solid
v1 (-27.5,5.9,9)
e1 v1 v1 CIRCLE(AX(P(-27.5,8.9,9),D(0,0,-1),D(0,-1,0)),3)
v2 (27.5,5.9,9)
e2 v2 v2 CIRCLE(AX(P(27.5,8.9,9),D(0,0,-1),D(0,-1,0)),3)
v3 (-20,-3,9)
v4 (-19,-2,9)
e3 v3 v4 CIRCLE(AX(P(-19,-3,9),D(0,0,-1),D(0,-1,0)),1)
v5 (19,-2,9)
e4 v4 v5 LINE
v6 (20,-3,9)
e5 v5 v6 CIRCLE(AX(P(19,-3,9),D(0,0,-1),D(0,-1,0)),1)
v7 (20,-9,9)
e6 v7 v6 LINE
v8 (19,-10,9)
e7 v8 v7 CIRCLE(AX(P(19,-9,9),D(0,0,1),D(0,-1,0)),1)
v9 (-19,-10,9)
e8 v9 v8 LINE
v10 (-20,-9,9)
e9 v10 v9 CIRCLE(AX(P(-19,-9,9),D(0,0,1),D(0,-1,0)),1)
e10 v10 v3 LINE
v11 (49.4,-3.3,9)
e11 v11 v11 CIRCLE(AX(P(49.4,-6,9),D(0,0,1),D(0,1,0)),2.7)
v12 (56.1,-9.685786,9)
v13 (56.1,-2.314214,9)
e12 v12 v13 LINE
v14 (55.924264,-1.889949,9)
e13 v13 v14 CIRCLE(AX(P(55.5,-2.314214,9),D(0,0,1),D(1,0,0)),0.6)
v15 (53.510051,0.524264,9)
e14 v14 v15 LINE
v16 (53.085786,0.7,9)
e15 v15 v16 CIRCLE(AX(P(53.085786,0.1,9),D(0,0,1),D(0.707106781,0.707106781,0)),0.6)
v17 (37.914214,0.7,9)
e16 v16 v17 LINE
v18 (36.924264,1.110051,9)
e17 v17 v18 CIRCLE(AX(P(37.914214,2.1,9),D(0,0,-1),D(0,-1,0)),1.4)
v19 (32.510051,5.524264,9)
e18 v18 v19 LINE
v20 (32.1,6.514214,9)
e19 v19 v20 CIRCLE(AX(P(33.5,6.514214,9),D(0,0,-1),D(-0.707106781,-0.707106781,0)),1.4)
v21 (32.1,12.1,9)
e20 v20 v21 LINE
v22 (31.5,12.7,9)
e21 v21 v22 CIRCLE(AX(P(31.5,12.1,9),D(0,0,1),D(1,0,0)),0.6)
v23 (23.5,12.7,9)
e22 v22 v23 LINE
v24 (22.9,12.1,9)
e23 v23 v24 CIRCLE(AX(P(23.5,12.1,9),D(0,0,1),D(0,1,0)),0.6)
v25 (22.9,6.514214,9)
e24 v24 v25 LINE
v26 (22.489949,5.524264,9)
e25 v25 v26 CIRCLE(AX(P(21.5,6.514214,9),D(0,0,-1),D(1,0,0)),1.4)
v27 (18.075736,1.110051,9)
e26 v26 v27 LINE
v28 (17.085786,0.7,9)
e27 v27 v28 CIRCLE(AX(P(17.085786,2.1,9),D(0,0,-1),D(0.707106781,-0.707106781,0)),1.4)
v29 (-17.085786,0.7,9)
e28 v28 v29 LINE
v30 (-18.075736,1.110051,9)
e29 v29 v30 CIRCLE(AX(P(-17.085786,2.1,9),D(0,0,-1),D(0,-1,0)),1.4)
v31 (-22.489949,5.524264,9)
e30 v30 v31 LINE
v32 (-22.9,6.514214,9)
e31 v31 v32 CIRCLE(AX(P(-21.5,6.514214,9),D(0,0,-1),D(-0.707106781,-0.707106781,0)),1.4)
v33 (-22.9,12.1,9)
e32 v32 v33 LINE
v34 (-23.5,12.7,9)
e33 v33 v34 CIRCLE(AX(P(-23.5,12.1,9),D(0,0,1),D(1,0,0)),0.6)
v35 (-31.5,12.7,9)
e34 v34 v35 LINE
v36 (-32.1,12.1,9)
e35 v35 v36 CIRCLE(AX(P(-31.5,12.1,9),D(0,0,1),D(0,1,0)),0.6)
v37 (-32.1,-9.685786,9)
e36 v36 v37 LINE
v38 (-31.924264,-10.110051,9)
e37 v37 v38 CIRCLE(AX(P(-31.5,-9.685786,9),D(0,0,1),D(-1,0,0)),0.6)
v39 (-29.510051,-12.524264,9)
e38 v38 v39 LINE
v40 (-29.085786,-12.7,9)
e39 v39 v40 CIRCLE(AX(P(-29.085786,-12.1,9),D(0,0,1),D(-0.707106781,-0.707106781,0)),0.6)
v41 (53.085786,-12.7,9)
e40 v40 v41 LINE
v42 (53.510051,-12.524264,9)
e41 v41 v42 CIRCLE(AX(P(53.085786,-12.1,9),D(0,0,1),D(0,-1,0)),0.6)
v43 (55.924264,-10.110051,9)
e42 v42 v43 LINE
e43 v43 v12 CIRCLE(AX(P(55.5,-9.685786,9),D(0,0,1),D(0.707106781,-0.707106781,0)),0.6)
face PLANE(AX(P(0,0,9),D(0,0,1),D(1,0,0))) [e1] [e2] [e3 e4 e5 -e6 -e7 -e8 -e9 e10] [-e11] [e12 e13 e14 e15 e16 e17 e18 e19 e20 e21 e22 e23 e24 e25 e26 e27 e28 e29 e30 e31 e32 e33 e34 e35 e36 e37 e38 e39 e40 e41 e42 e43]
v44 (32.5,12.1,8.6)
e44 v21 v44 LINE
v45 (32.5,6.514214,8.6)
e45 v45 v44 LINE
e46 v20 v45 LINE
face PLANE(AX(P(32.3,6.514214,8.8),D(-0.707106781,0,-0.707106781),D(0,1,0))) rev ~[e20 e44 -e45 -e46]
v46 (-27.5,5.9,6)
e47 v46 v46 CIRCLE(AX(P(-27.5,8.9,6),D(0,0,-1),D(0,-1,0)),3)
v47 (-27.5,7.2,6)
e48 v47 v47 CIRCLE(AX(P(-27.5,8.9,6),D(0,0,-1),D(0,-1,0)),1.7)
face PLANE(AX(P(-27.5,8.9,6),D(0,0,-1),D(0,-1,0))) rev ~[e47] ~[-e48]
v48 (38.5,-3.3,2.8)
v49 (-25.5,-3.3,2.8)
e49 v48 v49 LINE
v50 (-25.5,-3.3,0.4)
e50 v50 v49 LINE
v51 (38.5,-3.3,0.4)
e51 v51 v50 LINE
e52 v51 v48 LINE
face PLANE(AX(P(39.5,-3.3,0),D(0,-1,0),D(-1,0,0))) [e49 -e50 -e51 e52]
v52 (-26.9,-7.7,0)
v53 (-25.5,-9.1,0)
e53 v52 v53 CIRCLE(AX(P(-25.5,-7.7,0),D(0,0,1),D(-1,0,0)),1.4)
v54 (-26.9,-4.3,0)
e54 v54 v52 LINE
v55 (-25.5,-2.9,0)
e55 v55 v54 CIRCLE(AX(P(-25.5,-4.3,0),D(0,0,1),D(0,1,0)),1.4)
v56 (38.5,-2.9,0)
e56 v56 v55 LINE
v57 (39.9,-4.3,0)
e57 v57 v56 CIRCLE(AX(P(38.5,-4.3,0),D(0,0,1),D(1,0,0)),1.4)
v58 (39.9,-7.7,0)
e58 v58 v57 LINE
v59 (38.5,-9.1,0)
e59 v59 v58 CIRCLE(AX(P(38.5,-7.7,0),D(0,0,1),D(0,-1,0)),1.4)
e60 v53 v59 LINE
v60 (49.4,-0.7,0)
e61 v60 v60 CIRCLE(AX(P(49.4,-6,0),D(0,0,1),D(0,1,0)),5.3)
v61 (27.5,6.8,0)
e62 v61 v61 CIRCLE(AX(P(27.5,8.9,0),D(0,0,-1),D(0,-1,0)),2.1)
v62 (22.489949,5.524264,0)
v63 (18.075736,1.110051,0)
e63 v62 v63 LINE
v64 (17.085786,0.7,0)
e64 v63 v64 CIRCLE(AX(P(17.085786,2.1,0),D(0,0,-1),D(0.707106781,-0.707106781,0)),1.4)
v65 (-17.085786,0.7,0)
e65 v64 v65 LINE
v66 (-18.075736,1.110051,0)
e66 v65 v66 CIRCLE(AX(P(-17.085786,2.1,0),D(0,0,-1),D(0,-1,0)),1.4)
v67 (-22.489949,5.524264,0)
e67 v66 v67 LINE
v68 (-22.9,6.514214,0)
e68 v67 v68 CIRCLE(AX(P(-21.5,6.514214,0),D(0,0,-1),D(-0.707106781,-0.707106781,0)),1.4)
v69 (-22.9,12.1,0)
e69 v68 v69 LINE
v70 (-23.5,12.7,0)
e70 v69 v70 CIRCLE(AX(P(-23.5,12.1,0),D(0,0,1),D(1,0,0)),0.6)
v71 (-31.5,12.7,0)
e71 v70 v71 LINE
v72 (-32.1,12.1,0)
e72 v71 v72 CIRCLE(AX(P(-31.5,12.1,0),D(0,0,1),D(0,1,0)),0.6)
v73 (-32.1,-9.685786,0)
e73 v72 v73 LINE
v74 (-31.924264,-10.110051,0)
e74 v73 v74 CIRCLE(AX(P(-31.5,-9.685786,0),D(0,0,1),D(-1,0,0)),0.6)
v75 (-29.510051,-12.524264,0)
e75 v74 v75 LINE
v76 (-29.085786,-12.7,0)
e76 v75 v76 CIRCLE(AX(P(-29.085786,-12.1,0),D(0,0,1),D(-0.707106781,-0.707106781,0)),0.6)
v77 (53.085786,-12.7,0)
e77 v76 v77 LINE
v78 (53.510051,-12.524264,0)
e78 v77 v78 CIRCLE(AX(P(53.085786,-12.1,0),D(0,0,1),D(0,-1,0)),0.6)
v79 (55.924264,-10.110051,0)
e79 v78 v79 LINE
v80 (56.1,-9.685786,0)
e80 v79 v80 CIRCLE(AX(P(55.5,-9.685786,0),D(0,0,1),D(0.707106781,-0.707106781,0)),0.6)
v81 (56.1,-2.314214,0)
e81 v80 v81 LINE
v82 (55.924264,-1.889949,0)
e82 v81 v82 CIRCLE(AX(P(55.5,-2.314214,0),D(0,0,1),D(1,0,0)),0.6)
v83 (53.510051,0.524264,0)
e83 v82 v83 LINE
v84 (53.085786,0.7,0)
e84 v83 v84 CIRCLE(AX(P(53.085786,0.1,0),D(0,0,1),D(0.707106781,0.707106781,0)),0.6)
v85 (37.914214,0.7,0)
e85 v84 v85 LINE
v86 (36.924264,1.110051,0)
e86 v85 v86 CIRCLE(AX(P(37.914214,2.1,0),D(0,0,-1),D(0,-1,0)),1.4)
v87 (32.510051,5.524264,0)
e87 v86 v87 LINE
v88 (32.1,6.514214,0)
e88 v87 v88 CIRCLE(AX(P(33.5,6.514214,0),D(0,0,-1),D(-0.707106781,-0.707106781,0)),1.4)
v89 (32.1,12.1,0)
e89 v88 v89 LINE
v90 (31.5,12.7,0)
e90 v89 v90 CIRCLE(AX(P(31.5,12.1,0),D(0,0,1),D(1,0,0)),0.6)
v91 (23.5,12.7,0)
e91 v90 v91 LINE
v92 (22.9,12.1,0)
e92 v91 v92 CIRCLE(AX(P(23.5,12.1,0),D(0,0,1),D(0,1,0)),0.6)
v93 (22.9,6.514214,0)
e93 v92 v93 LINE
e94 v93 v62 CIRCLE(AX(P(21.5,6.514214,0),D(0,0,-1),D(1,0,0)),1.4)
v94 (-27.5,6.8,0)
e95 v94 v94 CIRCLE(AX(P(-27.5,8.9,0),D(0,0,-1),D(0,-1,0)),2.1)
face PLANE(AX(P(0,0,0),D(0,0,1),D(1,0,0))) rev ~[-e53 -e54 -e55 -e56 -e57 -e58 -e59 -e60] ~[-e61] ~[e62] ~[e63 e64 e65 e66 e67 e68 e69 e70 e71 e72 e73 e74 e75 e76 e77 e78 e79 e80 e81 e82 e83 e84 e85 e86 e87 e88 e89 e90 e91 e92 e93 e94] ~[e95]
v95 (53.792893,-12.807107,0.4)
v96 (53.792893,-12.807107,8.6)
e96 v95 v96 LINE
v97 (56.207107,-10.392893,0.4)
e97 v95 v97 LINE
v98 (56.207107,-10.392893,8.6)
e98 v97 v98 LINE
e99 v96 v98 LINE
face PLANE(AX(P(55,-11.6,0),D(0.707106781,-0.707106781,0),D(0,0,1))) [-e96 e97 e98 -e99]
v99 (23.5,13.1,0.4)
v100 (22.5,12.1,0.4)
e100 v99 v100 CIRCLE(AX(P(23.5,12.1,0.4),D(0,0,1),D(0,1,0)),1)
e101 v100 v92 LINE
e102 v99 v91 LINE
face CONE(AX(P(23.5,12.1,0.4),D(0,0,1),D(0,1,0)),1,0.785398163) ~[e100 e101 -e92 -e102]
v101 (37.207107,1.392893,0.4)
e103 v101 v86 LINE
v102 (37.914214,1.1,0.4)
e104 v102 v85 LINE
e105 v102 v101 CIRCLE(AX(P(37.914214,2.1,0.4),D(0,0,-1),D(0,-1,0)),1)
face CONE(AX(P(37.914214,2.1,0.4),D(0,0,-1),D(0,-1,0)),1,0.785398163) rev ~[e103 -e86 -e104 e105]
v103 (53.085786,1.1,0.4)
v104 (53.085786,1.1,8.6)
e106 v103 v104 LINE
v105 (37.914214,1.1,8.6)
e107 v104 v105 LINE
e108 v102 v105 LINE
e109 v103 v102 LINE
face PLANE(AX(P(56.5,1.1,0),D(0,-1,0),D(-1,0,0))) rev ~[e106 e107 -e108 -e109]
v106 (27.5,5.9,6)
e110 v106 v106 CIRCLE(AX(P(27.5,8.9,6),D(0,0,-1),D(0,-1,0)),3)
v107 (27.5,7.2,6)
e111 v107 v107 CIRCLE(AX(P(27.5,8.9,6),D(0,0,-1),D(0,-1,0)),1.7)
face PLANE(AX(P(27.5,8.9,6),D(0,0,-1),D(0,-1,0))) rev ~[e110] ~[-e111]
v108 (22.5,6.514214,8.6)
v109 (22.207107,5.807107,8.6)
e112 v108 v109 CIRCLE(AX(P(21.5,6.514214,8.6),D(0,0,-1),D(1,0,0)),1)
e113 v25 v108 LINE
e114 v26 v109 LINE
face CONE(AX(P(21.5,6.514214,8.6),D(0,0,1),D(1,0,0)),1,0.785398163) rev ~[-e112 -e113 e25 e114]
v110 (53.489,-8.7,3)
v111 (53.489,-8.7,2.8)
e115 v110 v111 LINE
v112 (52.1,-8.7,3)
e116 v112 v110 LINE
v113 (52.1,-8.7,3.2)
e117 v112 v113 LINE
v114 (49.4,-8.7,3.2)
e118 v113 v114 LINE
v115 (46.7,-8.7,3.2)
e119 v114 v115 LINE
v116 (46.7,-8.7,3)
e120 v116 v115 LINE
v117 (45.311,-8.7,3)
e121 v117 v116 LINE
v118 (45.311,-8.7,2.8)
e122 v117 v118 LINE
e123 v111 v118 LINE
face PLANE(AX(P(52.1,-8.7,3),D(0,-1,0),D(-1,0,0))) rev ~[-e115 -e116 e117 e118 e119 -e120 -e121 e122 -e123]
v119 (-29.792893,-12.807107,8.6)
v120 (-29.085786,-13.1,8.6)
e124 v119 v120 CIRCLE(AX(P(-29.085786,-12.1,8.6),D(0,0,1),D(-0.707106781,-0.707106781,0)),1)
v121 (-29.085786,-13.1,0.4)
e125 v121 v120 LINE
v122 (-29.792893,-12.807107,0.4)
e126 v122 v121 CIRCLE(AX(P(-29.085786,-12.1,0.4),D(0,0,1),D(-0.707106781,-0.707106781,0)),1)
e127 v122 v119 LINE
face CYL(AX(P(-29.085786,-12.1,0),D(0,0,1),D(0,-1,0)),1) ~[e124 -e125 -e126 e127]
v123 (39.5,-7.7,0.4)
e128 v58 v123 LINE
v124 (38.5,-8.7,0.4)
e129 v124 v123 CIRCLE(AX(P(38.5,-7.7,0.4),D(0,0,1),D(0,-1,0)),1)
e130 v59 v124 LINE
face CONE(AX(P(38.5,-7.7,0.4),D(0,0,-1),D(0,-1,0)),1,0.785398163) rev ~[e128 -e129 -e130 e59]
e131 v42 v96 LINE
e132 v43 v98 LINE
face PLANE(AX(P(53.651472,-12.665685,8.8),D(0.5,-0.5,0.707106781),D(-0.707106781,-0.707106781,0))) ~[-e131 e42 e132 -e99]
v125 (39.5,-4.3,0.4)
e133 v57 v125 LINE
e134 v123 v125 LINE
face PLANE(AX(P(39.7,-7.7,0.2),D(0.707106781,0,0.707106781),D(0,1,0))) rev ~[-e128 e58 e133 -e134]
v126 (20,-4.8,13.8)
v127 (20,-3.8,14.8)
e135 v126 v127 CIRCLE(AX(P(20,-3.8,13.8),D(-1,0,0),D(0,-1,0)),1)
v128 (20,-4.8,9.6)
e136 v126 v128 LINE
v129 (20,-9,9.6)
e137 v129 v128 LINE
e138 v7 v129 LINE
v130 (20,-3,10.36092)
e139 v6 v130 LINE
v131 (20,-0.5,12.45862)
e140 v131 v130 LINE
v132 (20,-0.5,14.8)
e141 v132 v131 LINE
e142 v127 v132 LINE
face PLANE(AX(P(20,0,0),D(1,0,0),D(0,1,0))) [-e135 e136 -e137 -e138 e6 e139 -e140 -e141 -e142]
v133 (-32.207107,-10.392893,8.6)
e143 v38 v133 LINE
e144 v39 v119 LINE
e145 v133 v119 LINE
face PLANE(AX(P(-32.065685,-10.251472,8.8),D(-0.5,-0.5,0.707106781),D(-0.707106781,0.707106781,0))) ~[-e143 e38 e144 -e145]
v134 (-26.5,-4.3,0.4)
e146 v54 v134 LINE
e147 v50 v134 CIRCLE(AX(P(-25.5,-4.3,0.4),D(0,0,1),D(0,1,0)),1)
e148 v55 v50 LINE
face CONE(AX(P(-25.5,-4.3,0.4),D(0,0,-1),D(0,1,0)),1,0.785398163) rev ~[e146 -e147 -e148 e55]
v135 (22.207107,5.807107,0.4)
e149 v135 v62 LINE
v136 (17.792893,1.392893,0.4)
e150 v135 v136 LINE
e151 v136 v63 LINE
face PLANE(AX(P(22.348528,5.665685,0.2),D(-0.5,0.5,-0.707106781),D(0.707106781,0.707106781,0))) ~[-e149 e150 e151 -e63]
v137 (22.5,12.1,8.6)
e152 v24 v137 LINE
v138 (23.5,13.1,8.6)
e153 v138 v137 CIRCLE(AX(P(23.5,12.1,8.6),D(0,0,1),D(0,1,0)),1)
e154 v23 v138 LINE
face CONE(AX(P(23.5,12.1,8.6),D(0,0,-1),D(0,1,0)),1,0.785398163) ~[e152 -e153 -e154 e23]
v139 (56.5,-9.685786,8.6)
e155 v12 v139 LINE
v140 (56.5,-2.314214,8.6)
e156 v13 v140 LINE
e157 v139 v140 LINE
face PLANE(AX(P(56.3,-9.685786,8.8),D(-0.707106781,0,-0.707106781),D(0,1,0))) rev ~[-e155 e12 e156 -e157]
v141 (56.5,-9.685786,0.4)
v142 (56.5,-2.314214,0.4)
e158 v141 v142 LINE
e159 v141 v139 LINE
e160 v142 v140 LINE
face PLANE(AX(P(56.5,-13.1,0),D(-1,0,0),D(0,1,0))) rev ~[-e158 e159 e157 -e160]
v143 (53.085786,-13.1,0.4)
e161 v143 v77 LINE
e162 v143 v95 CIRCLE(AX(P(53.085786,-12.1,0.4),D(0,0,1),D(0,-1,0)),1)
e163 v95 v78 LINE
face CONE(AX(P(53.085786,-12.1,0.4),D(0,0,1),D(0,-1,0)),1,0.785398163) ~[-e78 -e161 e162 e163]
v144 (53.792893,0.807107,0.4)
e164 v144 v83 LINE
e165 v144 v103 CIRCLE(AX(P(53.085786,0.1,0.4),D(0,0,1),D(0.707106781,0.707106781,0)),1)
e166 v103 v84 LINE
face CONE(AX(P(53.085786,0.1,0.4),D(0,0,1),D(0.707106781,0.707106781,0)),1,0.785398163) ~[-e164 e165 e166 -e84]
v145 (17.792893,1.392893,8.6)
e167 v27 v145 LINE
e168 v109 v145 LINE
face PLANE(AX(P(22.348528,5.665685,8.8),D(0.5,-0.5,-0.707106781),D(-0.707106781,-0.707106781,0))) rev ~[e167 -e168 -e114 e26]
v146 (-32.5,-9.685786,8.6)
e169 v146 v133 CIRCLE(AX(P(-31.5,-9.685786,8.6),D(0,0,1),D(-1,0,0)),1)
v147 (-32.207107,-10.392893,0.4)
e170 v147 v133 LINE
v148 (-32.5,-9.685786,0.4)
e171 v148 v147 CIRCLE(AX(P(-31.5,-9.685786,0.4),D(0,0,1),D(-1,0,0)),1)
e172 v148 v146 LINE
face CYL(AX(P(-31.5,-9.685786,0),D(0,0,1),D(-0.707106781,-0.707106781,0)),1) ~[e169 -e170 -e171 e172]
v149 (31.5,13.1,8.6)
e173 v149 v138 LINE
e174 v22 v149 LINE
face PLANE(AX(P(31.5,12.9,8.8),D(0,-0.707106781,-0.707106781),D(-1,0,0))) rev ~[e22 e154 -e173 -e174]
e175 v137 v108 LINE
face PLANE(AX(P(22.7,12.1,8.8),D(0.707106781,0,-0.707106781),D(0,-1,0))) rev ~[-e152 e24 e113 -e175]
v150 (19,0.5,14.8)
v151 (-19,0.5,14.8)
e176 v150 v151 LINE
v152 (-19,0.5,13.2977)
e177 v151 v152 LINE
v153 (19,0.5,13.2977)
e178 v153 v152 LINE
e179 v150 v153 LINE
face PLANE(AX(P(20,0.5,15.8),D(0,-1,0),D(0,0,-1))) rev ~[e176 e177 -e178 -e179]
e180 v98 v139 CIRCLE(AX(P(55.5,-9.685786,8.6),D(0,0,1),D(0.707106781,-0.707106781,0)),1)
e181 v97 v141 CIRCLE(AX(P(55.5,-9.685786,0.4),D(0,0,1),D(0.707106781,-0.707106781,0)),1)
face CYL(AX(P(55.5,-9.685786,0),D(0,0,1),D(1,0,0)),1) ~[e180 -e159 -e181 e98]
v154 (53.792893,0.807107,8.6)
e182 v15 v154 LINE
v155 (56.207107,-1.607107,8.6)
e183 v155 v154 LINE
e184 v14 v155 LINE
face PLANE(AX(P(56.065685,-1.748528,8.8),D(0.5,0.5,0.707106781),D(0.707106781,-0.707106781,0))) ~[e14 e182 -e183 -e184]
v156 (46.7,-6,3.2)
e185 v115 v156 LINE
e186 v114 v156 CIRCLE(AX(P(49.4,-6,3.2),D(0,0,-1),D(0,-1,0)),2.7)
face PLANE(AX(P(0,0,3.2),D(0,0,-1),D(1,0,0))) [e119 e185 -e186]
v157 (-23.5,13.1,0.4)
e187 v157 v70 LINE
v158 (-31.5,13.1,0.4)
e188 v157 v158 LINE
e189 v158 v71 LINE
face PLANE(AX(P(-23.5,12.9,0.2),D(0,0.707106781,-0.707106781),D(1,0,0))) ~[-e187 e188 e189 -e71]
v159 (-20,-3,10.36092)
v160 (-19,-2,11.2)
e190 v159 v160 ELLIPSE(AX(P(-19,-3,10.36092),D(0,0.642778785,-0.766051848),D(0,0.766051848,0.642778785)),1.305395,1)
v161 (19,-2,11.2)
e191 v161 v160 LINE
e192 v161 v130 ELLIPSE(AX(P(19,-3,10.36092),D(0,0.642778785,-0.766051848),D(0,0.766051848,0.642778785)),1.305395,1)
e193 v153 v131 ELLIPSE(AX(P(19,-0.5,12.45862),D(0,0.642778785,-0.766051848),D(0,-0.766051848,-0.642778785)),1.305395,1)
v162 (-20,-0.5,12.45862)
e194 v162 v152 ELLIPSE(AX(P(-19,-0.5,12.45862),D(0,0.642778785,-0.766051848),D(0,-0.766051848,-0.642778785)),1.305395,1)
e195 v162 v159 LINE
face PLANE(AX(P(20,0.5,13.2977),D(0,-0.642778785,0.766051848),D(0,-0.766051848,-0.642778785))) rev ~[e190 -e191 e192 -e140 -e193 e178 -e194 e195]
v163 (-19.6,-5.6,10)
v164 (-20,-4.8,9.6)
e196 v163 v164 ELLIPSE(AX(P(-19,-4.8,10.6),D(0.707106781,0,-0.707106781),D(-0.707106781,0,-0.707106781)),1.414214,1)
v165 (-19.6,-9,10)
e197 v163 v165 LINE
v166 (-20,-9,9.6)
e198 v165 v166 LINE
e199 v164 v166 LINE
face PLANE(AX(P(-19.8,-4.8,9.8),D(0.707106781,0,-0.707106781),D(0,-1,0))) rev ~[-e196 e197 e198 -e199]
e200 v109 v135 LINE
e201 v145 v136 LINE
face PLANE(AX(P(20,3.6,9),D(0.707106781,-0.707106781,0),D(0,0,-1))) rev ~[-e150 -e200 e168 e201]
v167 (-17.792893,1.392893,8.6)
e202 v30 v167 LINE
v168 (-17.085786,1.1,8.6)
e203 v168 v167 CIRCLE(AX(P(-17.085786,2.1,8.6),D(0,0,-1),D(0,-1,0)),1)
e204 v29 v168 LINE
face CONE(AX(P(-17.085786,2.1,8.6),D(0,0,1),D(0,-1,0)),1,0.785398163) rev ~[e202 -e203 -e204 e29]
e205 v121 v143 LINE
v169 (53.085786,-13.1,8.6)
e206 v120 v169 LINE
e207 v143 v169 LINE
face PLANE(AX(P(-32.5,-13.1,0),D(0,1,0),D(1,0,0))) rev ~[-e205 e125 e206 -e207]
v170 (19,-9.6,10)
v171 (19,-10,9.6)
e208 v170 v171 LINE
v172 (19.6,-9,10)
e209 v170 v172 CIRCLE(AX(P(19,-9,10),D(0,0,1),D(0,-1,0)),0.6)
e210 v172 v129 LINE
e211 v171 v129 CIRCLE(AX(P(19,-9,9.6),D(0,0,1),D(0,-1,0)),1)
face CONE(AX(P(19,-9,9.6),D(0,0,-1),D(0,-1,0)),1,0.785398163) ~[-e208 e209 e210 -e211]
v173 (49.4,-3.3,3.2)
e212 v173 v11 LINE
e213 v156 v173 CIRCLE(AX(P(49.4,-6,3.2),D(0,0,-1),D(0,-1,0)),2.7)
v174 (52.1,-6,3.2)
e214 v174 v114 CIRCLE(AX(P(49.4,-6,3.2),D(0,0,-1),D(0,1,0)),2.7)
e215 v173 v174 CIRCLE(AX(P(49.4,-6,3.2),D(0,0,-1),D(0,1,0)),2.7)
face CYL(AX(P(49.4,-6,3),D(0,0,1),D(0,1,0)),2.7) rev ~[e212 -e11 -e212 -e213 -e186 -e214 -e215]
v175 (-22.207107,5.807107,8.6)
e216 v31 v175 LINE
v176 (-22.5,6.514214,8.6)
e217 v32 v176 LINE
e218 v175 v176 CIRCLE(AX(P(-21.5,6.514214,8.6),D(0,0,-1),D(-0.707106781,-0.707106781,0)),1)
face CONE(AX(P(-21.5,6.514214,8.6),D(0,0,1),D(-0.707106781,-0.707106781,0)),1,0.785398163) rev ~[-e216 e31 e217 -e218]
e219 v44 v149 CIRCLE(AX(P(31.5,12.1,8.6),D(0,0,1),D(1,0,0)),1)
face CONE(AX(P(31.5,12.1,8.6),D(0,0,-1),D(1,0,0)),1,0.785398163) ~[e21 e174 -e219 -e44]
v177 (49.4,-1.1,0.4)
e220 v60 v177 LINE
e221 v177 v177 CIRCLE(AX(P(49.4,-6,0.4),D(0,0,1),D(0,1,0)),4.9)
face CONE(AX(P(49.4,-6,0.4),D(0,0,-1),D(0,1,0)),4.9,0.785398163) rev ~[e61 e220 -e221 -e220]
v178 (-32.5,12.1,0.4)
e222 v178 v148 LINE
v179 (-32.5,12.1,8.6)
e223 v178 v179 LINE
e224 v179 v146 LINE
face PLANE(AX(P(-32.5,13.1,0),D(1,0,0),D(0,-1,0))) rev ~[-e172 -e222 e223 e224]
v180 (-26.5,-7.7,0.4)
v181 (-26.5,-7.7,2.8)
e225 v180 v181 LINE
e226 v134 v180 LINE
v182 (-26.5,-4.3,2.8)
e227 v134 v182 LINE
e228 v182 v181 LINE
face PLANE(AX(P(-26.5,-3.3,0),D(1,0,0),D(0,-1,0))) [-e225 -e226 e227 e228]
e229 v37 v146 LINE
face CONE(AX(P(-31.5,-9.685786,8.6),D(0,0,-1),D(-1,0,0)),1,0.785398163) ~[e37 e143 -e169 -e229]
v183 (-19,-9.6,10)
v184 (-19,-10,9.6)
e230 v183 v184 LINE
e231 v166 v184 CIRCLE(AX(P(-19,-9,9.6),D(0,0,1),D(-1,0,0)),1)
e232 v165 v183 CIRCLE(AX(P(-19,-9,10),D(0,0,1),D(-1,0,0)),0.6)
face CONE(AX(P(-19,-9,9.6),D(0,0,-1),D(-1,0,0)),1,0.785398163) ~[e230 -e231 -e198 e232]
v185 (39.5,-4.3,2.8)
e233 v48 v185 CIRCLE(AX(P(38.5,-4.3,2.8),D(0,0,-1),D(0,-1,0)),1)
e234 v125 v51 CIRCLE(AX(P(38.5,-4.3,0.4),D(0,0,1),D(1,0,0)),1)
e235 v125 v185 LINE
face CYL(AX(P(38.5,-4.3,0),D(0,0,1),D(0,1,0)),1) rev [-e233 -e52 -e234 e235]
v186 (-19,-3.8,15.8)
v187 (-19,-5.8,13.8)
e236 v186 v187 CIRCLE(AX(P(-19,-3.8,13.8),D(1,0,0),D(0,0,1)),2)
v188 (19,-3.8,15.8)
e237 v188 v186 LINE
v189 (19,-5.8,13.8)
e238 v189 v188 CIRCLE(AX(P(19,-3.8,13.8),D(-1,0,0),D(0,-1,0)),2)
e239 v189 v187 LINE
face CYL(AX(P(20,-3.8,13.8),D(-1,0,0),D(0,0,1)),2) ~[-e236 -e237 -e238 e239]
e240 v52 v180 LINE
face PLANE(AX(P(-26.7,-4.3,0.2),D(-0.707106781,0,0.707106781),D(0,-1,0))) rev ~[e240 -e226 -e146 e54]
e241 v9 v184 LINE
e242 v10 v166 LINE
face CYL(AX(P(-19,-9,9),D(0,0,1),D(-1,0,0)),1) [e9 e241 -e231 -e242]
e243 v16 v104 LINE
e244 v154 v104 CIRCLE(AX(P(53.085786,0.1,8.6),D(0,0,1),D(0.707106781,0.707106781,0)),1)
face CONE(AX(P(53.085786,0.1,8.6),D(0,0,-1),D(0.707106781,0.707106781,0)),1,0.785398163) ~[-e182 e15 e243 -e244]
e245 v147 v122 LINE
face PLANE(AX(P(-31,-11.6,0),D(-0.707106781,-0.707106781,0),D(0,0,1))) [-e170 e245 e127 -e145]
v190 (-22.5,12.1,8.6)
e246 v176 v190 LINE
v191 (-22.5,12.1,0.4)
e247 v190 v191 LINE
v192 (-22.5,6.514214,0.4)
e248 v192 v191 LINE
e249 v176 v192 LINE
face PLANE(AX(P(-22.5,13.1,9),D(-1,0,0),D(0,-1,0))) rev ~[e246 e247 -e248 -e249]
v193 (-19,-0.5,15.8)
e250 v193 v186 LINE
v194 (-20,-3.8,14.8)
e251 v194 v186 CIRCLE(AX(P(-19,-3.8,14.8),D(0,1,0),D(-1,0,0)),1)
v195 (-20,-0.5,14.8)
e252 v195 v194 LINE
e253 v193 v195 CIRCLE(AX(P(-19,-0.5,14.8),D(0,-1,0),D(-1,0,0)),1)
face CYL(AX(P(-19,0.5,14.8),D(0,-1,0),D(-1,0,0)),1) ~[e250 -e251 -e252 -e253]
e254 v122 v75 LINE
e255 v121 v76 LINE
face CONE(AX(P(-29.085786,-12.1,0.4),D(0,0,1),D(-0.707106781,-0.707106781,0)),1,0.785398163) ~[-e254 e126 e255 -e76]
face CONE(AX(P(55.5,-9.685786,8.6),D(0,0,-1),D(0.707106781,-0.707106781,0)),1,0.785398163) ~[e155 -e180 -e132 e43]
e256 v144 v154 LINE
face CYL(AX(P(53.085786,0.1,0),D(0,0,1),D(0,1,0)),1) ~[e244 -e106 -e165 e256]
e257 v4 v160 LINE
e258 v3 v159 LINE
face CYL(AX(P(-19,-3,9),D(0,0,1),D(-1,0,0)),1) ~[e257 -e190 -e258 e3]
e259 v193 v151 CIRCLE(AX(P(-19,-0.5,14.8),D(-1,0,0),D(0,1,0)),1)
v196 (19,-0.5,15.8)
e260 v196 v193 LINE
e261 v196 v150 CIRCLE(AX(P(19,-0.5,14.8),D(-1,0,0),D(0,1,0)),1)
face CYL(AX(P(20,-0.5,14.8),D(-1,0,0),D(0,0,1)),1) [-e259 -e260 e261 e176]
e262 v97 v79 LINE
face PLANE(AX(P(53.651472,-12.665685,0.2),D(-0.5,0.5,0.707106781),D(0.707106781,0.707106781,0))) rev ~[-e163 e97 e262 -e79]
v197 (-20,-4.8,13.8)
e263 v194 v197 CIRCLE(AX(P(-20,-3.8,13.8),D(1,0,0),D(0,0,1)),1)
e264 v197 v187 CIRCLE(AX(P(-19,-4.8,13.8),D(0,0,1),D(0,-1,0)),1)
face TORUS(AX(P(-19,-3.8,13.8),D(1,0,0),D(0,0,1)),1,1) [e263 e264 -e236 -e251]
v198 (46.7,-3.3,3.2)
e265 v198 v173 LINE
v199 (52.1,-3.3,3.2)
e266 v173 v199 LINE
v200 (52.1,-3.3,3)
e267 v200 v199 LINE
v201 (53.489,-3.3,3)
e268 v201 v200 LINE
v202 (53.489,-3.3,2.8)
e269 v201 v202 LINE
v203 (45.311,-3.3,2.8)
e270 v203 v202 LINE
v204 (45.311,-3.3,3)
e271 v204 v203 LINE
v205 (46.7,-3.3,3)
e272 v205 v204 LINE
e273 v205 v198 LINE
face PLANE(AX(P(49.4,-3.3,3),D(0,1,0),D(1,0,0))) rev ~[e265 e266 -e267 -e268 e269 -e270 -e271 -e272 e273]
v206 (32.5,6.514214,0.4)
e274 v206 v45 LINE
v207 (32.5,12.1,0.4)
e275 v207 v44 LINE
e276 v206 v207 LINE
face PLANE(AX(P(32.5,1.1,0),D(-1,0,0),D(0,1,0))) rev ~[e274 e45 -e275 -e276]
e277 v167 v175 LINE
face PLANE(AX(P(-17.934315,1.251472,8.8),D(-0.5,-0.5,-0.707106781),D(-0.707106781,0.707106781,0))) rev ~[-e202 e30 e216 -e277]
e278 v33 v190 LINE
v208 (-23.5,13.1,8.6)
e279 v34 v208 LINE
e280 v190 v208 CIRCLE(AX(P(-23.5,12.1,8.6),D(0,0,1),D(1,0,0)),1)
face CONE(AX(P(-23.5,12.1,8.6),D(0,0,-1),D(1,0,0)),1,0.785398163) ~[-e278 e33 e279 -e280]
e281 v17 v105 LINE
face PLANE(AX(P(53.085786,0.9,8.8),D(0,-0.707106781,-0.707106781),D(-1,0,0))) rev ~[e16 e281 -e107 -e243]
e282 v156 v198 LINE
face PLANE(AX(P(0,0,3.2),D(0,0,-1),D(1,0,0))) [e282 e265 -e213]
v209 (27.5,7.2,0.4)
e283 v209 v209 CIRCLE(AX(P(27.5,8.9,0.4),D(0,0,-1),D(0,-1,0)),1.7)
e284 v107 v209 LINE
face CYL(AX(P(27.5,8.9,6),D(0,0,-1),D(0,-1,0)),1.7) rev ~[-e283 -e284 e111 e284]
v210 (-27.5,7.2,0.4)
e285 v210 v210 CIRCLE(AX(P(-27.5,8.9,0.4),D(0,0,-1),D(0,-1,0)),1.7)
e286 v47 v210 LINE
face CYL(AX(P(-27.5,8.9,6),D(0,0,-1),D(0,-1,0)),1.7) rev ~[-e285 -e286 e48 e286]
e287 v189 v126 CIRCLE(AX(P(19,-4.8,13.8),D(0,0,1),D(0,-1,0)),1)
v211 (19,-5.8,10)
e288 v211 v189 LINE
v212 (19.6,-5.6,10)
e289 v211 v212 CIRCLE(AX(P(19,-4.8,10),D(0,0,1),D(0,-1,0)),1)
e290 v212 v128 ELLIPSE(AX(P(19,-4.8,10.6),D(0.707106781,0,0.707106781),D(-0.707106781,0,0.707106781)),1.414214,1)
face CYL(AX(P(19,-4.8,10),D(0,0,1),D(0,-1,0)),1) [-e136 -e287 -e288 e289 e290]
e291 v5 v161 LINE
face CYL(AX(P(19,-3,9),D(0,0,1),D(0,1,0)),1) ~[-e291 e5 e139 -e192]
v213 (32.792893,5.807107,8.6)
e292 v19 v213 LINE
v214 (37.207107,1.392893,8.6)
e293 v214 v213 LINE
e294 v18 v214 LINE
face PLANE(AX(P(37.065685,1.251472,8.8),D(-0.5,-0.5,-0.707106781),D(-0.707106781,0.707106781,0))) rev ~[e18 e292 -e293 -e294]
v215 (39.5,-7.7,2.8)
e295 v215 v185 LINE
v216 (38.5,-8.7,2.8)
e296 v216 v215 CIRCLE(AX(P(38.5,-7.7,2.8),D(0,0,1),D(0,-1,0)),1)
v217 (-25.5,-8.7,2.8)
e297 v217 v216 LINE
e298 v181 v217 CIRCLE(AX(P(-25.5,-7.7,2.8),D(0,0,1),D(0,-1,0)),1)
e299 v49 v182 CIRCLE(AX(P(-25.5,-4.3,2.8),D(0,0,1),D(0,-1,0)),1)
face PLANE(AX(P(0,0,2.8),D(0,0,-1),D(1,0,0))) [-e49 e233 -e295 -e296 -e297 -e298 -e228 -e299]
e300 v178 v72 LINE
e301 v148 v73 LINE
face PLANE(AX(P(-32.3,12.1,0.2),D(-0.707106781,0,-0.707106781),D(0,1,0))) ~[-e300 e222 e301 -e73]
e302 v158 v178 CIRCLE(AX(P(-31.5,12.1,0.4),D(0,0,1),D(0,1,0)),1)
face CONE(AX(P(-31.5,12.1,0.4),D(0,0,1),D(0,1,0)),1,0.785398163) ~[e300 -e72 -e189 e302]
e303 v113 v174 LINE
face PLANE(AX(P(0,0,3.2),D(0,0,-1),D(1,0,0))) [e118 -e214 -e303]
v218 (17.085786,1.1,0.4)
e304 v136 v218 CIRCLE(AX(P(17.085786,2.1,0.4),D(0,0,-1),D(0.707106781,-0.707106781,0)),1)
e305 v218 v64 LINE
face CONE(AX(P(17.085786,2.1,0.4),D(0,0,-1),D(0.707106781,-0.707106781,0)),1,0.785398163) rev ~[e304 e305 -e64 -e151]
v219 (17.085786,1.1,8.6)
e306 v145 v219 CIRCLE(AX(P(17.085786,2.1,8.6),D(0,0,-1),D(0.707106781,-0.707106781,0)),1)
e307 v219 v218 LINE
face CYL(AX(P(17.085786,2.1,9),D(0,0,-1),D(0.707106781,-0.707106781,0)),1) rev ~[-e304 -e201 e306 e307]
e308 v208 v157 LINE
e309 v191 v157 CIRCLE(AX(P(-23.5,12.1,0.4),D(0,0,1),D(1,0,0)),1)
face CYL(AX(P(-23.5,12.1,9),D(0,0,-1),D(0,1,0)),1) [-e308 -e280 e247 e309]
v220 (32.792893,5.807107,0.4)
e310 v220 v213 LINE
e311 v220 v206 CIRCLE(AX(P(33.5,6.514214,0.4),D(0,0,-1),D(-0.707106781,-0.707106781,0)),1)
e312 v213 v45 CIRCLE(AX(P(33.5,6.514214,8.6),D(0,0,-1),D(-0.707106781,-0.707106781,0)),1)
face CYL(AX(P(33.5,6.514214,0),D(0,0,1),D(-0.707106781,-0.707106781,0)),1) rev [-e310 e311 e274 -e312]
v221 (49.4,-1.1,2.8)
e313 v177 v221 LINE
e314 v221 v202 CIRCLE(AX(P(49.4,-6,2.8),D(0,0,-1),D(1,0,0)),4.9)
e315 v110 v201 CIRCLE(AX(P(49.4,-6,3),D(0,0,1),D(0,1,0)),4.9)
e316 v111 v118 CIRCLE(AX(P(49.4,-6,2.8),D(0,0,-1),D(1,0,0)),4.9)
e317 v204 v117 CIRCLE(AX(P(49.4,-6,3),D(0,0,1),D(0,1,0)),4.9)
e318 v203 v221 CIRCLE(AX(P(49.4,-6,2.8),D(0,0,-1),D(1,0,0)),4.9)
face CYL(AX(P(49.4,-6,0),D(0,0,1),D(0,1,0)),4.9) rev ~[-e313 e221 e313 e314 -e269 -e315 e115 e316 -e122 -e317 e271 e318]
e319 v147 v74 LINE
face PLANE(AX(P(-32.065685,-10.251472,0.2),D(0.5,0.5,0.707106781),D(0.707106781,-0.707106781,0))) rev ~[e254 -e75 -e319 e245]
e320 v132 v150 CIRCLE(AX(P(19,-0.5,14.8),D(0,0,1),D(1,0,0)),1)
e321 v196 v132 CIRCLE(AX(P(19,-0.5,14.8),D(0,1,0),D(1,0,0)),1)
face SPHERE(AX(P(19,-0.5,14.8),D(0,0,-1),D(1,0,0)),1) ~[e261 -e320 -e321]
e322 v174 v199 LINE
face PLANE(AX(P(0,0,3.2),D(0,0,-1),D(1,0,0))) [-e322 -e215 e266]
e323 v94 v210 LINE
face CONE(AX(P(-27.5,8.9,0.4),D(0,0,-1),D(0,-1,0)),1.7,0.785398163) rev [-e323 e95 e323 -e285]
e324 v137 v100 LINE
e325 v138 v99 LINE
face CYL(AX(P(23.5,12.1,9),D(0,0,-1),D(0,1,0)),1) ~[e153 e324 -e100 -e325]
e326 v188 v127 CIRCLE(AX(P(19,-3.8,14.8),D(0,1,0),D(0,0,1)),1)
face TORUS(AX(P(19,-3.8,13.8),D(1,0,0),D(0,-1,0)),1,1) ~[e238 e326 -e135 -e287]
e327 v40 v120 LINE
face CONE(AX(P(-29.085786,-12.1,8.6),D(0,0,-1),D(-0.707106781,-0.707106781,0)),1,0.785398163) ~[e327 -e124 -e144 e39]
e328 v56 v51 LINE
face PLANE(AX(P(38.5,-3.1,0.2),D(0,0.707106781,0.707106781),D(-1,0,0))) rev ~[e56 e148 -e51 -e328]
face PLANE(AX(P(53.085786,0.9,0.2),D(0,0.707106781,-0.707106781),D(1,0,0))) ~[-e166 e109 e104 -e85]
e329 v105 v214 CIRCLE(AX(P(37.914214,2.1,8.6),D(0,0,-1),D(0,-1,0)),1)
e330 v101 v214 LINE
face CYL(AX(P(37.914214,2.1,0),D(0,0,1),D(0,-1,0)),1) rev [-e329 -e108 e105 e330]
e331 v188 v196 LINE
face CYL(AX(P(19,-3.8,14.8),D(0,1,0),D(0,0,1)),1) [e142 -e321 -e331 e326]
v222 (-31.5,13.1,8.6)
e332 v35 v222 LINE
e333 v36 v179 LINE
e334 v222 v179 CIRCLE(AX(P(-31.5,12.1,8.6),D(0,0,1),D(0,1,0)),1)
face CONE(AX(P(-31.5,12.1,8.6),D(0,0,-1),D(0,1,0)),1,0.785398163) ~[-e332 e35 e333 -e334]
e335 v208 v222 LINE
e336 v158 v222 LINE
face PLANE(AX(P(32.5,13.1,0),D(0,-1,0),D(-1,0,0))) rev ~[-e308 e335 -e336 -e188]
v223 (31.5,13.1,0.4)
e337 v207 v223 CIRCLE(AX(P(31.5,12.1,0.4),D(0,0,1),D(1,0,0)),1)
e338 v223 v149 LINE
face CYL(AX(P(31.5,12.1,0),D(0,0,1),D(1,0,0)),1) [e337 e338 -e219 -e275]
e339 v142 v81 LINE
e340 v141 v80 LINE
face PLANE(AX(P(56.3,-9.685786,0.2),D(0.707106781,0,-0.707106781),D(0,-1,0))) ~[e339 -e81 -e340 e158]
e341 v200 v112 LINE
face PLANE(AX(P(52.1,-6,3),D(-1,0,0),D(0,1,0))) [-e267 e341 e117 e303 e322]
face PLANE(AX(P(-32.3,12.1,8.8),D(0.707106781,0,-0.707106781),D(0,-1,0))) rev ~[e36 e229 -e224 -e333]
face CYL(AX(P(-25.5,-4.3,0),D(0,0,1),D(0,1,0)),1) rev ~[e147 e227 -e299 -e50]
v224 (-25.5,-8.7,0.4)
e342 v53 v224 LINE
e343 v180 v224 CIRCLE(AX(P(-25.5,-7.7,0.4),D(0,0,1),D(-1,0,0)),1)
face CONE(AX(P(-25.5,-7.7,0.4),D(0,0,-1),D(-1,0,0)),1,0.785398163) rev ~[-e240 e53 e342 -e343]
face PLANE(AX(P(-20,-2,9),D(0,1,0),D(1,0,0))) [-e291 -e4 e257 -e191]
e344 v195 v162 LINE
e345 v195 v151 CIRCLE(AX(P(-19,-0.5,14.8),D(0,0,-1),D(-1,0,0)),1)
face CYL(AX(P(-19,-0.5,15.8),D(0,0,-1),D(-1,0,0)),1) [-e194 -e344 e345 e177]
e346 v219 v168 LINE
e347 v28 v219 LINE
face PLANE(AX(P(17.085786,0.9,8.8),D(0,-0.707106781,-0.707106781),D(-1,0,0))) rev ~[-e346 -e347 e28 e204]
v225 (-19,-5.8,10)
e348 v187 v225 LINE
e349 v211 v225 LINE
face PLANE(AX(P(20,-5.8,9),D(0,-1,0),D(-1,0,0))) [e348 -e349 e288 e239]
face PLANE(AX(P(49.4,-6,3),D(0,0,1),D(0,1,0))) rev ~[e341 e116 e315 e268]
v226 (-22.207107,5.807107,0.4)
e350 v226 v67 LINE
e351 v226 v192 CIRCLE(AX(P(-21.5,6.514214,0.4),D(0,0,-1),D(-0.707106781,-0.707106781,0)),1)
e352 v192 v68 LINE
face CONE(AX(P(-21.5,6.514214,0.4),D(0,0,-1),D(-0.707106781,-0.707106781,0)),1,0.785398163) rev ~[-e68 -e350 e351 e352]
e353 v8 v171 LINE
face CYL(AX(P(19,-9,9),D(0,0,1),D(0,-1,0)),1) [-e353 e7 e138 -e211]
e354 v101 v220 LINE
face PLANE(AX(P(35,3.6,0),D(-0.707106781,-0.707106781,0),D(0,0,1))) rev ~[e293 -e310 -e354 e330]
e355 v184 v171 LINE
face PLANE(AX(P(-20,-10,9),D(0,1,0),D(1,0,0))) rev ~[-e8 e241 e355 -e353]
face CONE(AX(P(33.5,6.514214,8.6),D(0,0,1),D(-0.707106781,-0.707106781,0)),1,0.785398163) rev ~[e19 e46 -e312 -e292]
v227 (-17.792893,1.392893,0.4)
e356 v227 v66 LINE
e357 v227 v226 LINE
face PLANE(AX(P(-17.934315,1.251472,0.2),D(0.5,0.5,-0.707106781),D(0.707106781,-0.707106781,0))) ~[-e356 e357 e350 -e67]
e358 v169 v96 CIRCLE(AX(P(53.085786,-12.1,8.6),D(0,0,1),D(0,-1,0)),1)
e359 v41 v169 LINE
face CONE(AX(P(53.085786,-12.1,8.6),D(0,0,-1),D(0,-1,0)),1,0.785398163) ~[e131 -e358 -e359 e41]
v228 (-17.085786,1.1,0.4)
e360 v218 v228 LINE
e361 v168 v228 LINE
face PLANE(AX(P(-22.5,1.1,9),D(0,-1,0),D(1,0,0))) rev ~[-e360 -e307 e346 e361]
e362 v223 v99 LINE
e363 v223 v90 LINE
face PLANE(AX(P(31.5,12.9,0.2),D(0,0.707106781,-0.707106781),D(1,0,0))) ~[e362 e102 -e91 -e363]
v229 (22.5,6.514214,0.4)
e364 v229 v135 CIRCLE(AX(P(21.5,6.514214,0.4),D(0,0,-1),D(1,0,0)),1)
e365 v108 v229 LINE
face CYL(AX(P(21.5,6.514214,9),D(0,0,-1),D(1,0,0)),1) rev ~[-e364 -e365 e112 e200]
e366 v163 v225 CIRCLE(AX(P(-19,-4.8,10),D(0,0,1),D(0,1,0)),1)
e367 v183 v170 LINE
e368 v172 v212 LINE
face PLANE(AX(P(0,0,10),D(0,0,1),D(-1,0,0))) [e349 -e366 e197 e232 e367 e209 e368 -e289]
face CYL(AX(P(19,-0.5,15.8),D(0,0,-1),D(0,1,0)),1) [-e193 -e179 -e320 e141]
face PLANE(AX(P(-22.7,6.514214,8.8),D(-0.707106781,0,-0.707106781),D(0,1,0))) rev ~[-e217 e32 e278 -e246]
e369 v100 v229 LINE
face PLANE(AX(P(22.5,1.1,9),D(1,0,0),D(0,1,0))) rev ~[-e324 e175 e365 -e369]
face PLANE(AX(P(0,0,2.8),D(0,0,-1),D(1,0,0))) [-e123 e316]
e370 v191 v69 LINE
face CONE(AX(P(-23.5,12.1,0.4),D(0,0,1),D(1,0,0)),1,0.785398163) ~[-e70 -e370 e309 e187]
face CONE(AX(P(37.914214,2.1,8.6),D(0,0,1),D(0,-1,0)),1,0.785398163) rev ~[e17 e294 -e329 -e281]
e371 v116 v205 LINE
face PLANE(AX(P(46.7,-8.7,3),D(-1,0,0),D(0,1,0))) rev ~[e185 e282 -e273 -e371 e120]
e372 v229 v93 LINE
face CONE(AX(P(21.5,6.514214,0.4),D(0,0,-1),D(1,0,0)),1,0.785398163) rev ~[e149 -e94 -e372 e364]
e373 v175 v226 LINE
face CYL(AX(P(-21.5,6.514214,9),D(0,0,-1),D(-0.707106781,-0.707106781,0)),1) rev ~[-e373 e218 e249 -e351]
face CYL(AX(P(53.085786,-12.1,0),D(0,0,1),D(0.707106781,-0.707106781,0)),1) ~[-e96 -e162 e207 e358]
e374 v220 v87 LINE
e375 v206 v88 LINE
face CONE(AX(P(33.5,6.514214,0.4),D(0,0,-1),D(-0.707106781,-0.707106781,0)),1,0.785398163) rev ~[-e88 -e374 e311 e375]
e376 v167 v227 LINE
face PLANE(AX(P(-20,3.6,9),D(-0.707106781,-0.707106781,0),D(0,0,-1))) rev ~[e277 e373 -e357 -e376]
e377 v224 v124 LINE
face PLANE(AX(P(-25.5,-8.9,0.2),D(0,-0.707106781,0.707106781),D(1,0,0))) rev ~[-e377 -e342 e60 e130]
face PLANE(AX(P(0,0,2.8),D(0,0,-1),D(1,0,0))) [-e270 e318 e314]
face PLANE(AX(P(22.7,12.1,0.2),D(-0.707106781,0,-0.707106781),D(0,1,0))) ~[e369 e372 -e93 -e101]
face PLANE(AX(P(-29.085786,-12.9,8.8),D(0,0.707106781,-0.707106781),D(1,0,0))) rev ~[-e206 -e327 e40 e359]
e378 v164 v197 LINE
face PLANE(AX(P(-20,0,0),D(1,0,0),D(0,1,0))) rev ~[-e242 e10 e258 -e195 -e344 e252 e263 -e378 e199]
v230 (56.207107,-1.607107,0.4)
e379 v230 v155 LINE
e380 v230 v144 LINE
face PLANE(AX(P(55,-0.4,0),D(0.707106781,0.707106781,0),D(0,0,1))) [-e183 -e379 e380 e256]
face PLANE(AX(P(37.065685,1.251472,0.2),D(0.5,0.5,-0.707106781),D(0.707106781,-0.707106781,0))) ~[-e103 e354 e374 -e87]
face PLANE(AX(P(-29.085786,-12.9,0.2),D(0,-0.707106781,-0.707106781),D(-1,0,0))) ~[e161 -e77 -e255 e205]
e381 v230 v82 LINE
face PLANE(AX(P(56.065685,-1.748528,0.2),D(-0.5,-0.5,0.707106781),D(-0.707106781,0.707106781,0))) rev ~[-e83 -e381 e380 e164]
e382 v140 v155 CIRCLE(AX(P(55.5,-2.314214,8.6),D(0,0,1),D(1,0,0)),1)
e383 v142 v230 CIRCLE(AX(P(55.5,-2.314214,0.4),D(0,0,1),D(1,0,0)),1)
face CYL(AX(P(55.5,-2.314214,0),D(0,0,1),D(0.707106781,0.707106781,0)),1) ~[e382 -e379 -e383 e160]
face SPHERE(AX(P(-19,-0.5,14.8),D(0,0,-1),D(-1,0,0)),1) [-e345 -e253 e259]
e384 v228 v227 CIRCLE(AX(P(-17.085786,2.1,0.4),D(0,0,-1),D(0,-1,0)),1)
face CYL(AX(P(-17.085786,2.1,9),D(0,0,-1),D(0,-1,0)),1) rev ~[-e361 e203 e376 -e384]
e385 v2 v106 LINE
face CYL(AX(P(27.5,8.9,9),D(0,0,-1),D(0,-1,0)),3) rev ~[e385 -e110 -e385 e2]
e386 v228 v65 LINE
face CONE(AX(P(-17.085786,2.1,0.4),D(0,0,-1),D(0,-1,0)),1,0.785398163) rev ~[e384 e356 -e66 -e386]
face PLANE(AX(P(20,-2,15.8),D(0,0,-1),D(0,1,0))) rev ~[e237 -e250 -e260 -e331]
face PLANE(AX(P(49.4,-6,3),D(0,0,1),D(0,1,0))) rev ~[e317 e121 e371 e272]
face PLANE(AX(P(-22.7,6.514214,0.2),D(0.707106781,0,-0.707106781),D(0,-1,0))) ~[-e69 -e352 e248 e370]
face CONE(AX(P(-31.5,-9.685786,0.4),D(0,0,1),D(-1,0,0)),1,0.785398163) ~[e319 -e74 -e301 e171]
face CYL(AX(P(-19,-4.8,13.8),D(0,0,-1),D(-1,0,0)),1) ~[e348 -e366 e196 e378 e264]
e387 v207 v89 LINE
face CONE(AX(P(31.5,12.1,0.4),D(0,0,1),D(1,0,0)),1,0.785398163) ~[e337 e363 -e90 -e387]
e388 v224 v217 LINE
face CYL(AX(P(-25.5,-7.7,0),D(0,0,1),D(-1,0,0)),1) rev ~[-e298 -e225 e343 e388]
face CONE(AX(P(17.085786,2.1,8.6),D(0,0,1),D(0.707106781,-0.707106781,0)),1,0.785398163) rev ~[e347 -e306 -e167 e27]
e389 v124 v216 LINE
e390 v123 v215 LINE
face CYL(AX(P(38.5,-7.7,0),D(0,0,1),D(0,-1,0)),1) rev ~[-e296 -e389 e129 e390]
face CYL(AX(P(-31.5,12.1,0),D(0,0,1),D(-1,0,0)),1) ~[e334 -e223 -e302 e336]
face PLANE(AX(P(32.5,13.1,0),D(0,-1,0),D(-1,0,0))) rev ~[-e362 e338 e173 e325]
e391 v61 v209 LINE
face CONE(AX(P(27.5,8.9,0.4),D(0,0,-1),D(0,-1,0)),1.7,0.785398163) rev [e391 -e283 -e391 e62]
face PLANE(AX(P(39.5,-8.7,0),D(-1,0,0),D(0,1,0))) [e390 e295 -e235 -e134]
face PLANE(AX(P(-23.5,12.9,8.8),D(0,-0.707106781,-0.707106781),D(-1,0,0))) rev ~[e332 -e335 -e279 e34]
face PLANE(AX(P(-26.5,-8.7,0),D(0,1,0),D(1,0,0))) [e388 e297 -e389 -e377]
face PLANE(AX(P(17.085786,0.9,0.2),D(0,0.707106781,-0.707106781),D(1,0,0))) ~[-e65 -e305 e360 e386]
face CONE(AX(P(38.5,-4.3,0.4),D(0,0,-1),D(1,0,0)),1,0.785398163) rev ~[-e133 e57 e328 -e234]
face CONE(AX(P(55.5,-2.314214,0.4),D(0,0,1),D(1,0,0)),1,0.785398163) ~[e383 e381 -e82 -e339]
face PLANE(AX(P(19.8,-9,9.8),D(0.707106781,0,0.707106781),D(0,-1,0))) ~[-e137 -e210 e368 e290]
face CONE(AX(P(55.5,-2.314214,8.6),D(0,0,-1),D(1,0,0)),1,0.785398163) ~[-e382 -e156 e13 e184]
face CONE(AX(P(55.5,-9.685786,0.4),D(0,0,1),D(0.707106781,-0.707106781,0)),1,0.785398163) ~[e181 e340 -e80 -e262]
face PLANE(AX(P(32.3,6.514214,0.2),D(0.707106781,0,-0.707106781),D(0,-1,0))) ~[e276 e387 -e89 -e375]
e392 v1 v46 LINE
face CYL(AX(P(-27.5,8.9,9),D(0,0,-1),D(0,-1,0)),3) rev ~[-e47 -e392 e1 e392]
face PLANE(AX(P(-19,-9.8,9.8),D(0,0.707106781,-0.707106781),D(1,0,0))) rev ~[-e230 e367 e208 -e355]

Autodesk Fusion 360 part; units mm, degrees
sketch "Sketch1" plane through (0, 0, 0) normal (0, 0, 1) x (1, 0, 0)
  line L0 (32.5, 13.1) -> (-32.5, 13.1)
  line L1 (-32.5, 13.1) -> (-32.5, -13.1)
  line L2 (-32.5, -13.1) -> (32.5, -13.1)
  line L3 (32.5, -13.1) -> (32.5, 13.1)
  line L4 (32.5, 13.1) -> (-32.5, -13.1) construction
  line L5 (-32.5, 13.1) -> (32.5, -13.1) construction
  line L6 (32.5, -13.1) -> (56.5, -13.1)
  line L7 (56.5, -13.1) -> (56.5, 1.1)
  line L8 (56.5, 1.1) -> (32.5, 1.1)
  dimension "d1" = 65
  dimension "d2" = 26.2
  dimension "d4" = 14.2
  dimension "d79" = 24
extrude "Extrude1" add sketch "Sketch1" along normal blind 9
sketch "Sketch2" plane through (0, 0, 9) normal (0, 0, 1) x (-1, 0, 0)
  line L0 (-56.5, -1.1) -> (-32.5, -1.1)
  line L1 (-32.5, -1.1) -> (-32.5, -13.1)
  line L2 (-32.5, -13.1) -> (32.5, -13.1)
  line L3 (32.5, -13.1) -> (32.5, 13.1)
  line L4 (32.5, 13.1) -> (-56.5, 13.1)
  line L5 (-56.5, 13.1) -> (-56.5, -1.1)
  line L6 (27.5, -8.9) -> (-27.5, -8.9) construction
  line L7 (0, -8.9) -> (0, -13.1) construction
  dimension "d7" = 55
  dimension "d8" = 4.2
hole "Hole1" at (-27.5, 8.9, 9) at (27.5, 8.9, 9) direction (0, 0, -1) diameter 3.4 end through all counterbore diameter 6 counterbore depth 3
sketch "Sketch4" plane through (0, 0, 0) normal (0, 0, -1) x (1, 0, 0)
  circle A0 centre (-27.5, -8.9) radius 1.7
  circle A1 centre (27.5, -8.9) radius 1.7
  line L0 (32.5, -1.1) -> (56.5, -1.1)
  line L1 (56.5, -1.1) -> (56.5, 13.1)
  line L2 (56.5, 13.1) -> (-32.5, 13.1)
  line L3 (-32.5, 13.1) -> (-32.5, -13.1)
  line L4 (-32.5, -13.1) -> (32.5, -13.1)
  line L5 (32.5, -13.1) -> (32.5, -1.1)
  line L6 (56.5, 6) -> (49.4, 6) construction
  dimension "d27" = 7.1
hole "Hole2" at (49.4, -6, 0) direction (0, 0, 1) diameter 5.4 depth 9 tip angle 118 counterbore diameter 9.8 counterbore depth 3
sketch "Sketch5" plane through (0, 0, 9) normal (0, 0, 1) x (-1, 0, 0)
  circle A0 centre (-49.4, 6) radius 2.7
  circle A1 centre (27.5, -8.9) radius 3
  circle A2 centre (-27.5, -8.9) radius 3
  line L0 (-56.5, -1.1) -> (-32.5, -1.1)
  line L1 (-32.5, -1.1) -> (-32.5, -13.1)
  line L2 (-32.5, -13.1) -> (32.5, -13.1)
  line L3 (32.5, -13.1) -> (32.5, 13.1)
  line L4 (32.5, 13.1) -> (-56.5, 13.1)
  line L5 (-56.5, 13.1) -> (-56.5, -1.1)
  line L6 (20, 2) -> (-20, 2)
  line L7 (-20, 2) -> (-20, 5.8)
  line L8 (-20, 5.8) -> (20, 5.8)
  line L9 (20, 5.8) -> (20, 2)
  line L10 (0, 2) -> (0, -13.1) construction
  dimension "d23" = 7.3
  dimension "d25" = 3.8
  dimension "d26" = 40
extrude "Extrude2" add sketch "Sketch5" along normal blind 6.8 contours L6 L7 L8 L9
sketch "Sketch6" plane through (0, 0, 9) normal (0, 0, 1) x (-1, 0, 0)
  line L0 (20, 5.8) -> (20, 2)
  line L1 (20, 2) -> (-20, 2)
  line L2 (-20, 2) -> (-20, 5.8)
  line L3 (-20, 5.8) -> (20, 5.8)
  circle A0 centre (-49.4, 6) radius 2.7
  circle A1 centre (27.5, -8.9) radius 3
  circle A2 centre (-27.5, -8.9) radius 3
  line L4 (-56.5, -1.1) -> (-32.5, -1.1)
  line L5 (-32.5, -1.1) -> (-32.5, -13.1)
  line L6 (-32.5, -13.1) -> (32.5, -13.1)
  line L7 (32.5, -13.1) -> (32.5, 13.1)
  line L8 (32.5, 13.1) -> (-56.5, 13.1)
  line L9 (-56.5, 13.1) -> (-56.5, -1.1)
  line L10 (20, 5.8) -> (20, 10)
  line L11 (20, 10) -> (-20, 10)
  line L12 (-20, 10) -> (-20, 5.8)
  dimension "d30" = 4.2
extrude "Extrude3" add sketch "Sketch6" along normal blind 1 contours L3 L10 L11 L12
sketch "Sketch7" plane through (20, 0, 0) normal (1, 0, 0) x (0, 1, 0)
  line L0 (-10, 9) -> (-2, 9)
  line L1 (-2, 9) -> (-2, 15.8)
  line L2 (-2, 15.8) -> (-5.8, 15.8)
  line L3 (-5.8, 15.8) -> (-5.8, 10)
  line L4 (-5.8, 10) -> (-10, 10)
  line L5 (-10, 10) -> (-10, 9)
  line L6 (-2, 15.8) -> (0.5, 15.8)
  line L7 (0.5, 15.8) -> (0.5, 13.2977)
  line L8 (0.5, 13.2977) -> (-2, 11.2)
  dimension "d33" = 6.3
  dimension "d34" = 130
  dimension "d35" = 2.2
extrude "Extrude4" add sketch "Sketch7" against normal up to surface (40 mm away) contours L1 L6 L7 L8
sketch "Sketch9" plane through (0, 0, 9) normal (0, 0, 1) x (-1, 0, 0)
  line L0 (20, 10) -> (20, 2)
  line L1 (20, 2) -> (-20, 2)
  line L2 (-20, 2) -> (-20, 10)
  line L3 (-20, 10) -> (20, 10)
  circle A0 centre (-49.4, 6) radius 2.7
  circle A1 centre (27.5, -8.9) radius 3
  circle A2 centre (-27.5, -8.9) radius 3
  line L4 (-56.5, -1.1) -> (-32.5, -1.1)
  line L5 (-32.5, -1.1) -> (-32.5, -13.1)
  line L6 (-32.5, -13.1) -> (32.5, -13.1)
  line L7 (32.5, -13.1) -> (32.5, 13.1)
  line L8 (32.5, 13.1) -> (-56.5, 13.1)
  line L9 (-56.5, 13.1) -> (-56.5, -1.1)
  line L10 (22.5, -13.1) -> (22.5, -1.1)
  line L11 (22.5, -1.1) -> (-22.5, -1.1)
  line L12 (-22.5, -1.1) -> (-22.5, -13.1)
  line L13 (0, -1.1) -> (0, -13.1) construction
  dimension "d57" = 90
  dimension "d59" = 10
extrude "Extrude6" cut sketch "Sketch9" against normal through all contours L6 L10 L11 L12
sketch "Sketch10" plane through (0, 0, 3) normal (0, 0, -1) x (1, 0, 0)
  circle A0 centre (49.4, 6) radius 4.9
  circle A1 centre (49.4, 6) radius 2.7
  line L0 (45.311, 8.7) -> (53.489, 8.7)
  line L1 (45.311, 3.3) -> (53.489, 3.3)
extrude "Extrude7" add sketch "Sketch10" along normal blind 0.2 contours A0 L0 | A0 L1
sketch "Sketch11" plane through (0, 0, 3) normal (0, 0, -1) x (1, 0, 0)
  line L0 (53.489, 8.7) -> (49.4, 8.7)
  arc A0 (49.4, 3.3) -> (49.4, 8.7) centre (49.4, 6) ccw
  line L1 (49.4, 3.3) -> (53.489, 3.3)
  arc A1 (53.489, 3.3) -> (53.489, 8.7) centre (49.4, 6) ccw
  line L2 (49.4, 8.7) -> (45.311, 8.7)
  arc A2 (45.311, 8.7) -> (45.311, 3.3) centre (49.4, 6) ccw
  line L3 (45.311, 3.3) -> (49.4, 3.3)
  arc A3 (49.4, 8.7) -> (49.4, 3.3) centre (49.4, 6) ccw
  line L4 (52.1, 8.7) -> (52.1, 3.3)
  line L5 (46.7, 8.7) -> (46.7, 3.3)
extrude "Extrude8" cut sketch "Sketch11" against normal blind 0.2 contours L0 A0 L4 | L2 A3 L5 | A0 L1 L4 | L3 A3 L5
chamfer "Chamfer5" distance 5 angle 45 3 edges at (22.5, 1.1, 4.5) (-22.5, 1.1, 4.5) (32.5, 1.1, 4.5)
chamfer "Chamfer2" distance 3 angle 45 3 edges at (56.5, 1.1, 4.5) (-32.5, -13.1, 4.5) (56.5, -13.1, 4.5)
sketch "Sketch13" plane through (0, 0, 0) normal (0, 0, -1) x (1, 0, 0)
  line L0 (56.5, 10.1) -> (53.5, 13.1)
  line L1 (53.5, 13.1) -> (-29.5, 13.1)
  line L2 (-29.5, 13.1) -> (-32.5, 10.1)
  line L3 (-32.5, 10.1) -> (-32.5, -13.1)
  line L4 (-32.5, -13.1) -> (-22.5, -13.1)
  line L5 (-22.5, -13.1) -> (-22.5, -6.1)
  line L6 (-22.5, -6.1) -> (-17.5, -1.1)
  line L7 (-17.5, -1.1) -> (17.5, -1.1)
  line L8 (17.5, -1.1) -> (22.5, -6.1)
  line L9 (22.5, -6.1) -> (22.5, -13.1)
  line L10 (22.5, -13.1) -> (32.5, -13.1)
  line L11 (32.5, -13.1) -> (32.5, -6.1)
  line L12 (32.5, -6.1) -> (37.5, -1.1)
  line L13 (37.5, -1.1) -> (53.5, -1.1)
  line L14 (53.5, -1.1) -> (56.5, 1.9)
  line L15 (56.5, 1.9) -> (56.5, 10.1)
  circle A0 centre (49.4, 6) radius 4.9
  circle A1 centre (-27.5, -8.9) radius 1.7
  circle A2 centre (27.5, -8.9) radius 1.7
  line L16 (39.5, 3.3) -> (-26.5, 3.3)
  line L17 (-26.5, 3.3) -> (-26.5, 8.7)
  line L18 (-26.5, 8.7) -> (39.5, 8.7)
  line L19 (39.5, 8.7) -> (39.5, 3.3)
  dimension "d72" = 4.4
  dimension "d73" = 4.4
  dimension "d74" = 6
  dimension "d75" = 66
extrude "Extrude9" cut sketch "Sketch13" against normal blind 2.8 contours L16 L17 L18 L19
fillet "Fillet1" radius 1 20 edges at (-32.5, 13.1, 4.5) (-32.5, -10.1, 4.5) (-29.5, -13.1, 4.5) (56.5, -1.9, 4.5) (53.5, 1.1, 4.5) (32.5, 13.1, 4.5) (22.5, 13.1, 4.5) (-22.5, 13.1, 4.5) (22.5, 6.1, 4.5) (17.5, 1.1, 4.5) (-17.5, 1.1, 4.5) (-22.5, 6.1, 4.5) (56.5, -10.1, 4.5) (53.5, -13.1, 4.5) (37.5, 1.1, 4.5) (32.5, 6.1, 4.5) (39.5, -3.3, 1.4) (39.5, -8.7, 1.4) (-26.5, -3.3, 1.4) (-26.5, -8.7, 1.4)
fillet "Fillet2" radius 2 1 edges at (0, -5.8, 15.8)
fillet "Fillet3" radius 1 13 edges at (20, -2, 10.1) (-20, -2, 10.1) (20, 0.5, 14.5489) (-20, 0.5, 14.5489) (20, -5.8, 11.9) (20, -5.2142, 15.2142) (20, -1.65, 15.8) (-20, -1.65, 15.8) (-20, -5.2142, 15.2142) (-20, -5.8, 11.9) (0, 0.5, 15.8) (20, -10, 9.5) (-20, -10, 9.5)
chamfer "Chamfer4" distance 0.4 angle 45 37 edges at (19.7071, -9.7071, 10) (20, -6.9, 10) (-20, -6.9, 10) (-19.7071, -9.7071, 10) (0, -10, 10) (37.5315, 1.1761, 9) (45.5, 1.1, 9) (53.4685, 1.0239, 9) (55, -0.4, 9) (56.4239, -1.9315, 9) (56.5, -6, 9) (56.4239, -10.0685, 9) (55, -11.6, 9) (53.4685, -13.0239, 9) (12, -13.1, 9) (-29.4685, -13.0239, 9) (-31, -11.6, 9) (-32.4239, -10.0685, 9) (-32.5, 1.2071, 9) (-32.2071, 12.8071, 9) (-27.5, 13.1, 9) (-22.7929, 12.8071, 9) (-22.5, 9.3071, 9) (-22.4239, 6.1315, 9) (-20, 3.6, 9) (-17.4685, 1.1761, 9) (0, 1.1, 9) (17.4685, 1.1761, 9) (20, 3.6, 9) (22.4239, 6.1315, 9) (22.5, 9.3071, 9) (22.7929, 12.8071, 9) (27.5, 13.1, 9) (32.2071, 12.8071, 9) (32.5, 9.3071, 9) (32.5761, 6.1315, 9) (35, 3.6, 9) 1 faces at (26.1667, 1.3, 0)
equation "d8 = 3 mm + 1.2 mm"
equation "beam_size = 3 mm"
